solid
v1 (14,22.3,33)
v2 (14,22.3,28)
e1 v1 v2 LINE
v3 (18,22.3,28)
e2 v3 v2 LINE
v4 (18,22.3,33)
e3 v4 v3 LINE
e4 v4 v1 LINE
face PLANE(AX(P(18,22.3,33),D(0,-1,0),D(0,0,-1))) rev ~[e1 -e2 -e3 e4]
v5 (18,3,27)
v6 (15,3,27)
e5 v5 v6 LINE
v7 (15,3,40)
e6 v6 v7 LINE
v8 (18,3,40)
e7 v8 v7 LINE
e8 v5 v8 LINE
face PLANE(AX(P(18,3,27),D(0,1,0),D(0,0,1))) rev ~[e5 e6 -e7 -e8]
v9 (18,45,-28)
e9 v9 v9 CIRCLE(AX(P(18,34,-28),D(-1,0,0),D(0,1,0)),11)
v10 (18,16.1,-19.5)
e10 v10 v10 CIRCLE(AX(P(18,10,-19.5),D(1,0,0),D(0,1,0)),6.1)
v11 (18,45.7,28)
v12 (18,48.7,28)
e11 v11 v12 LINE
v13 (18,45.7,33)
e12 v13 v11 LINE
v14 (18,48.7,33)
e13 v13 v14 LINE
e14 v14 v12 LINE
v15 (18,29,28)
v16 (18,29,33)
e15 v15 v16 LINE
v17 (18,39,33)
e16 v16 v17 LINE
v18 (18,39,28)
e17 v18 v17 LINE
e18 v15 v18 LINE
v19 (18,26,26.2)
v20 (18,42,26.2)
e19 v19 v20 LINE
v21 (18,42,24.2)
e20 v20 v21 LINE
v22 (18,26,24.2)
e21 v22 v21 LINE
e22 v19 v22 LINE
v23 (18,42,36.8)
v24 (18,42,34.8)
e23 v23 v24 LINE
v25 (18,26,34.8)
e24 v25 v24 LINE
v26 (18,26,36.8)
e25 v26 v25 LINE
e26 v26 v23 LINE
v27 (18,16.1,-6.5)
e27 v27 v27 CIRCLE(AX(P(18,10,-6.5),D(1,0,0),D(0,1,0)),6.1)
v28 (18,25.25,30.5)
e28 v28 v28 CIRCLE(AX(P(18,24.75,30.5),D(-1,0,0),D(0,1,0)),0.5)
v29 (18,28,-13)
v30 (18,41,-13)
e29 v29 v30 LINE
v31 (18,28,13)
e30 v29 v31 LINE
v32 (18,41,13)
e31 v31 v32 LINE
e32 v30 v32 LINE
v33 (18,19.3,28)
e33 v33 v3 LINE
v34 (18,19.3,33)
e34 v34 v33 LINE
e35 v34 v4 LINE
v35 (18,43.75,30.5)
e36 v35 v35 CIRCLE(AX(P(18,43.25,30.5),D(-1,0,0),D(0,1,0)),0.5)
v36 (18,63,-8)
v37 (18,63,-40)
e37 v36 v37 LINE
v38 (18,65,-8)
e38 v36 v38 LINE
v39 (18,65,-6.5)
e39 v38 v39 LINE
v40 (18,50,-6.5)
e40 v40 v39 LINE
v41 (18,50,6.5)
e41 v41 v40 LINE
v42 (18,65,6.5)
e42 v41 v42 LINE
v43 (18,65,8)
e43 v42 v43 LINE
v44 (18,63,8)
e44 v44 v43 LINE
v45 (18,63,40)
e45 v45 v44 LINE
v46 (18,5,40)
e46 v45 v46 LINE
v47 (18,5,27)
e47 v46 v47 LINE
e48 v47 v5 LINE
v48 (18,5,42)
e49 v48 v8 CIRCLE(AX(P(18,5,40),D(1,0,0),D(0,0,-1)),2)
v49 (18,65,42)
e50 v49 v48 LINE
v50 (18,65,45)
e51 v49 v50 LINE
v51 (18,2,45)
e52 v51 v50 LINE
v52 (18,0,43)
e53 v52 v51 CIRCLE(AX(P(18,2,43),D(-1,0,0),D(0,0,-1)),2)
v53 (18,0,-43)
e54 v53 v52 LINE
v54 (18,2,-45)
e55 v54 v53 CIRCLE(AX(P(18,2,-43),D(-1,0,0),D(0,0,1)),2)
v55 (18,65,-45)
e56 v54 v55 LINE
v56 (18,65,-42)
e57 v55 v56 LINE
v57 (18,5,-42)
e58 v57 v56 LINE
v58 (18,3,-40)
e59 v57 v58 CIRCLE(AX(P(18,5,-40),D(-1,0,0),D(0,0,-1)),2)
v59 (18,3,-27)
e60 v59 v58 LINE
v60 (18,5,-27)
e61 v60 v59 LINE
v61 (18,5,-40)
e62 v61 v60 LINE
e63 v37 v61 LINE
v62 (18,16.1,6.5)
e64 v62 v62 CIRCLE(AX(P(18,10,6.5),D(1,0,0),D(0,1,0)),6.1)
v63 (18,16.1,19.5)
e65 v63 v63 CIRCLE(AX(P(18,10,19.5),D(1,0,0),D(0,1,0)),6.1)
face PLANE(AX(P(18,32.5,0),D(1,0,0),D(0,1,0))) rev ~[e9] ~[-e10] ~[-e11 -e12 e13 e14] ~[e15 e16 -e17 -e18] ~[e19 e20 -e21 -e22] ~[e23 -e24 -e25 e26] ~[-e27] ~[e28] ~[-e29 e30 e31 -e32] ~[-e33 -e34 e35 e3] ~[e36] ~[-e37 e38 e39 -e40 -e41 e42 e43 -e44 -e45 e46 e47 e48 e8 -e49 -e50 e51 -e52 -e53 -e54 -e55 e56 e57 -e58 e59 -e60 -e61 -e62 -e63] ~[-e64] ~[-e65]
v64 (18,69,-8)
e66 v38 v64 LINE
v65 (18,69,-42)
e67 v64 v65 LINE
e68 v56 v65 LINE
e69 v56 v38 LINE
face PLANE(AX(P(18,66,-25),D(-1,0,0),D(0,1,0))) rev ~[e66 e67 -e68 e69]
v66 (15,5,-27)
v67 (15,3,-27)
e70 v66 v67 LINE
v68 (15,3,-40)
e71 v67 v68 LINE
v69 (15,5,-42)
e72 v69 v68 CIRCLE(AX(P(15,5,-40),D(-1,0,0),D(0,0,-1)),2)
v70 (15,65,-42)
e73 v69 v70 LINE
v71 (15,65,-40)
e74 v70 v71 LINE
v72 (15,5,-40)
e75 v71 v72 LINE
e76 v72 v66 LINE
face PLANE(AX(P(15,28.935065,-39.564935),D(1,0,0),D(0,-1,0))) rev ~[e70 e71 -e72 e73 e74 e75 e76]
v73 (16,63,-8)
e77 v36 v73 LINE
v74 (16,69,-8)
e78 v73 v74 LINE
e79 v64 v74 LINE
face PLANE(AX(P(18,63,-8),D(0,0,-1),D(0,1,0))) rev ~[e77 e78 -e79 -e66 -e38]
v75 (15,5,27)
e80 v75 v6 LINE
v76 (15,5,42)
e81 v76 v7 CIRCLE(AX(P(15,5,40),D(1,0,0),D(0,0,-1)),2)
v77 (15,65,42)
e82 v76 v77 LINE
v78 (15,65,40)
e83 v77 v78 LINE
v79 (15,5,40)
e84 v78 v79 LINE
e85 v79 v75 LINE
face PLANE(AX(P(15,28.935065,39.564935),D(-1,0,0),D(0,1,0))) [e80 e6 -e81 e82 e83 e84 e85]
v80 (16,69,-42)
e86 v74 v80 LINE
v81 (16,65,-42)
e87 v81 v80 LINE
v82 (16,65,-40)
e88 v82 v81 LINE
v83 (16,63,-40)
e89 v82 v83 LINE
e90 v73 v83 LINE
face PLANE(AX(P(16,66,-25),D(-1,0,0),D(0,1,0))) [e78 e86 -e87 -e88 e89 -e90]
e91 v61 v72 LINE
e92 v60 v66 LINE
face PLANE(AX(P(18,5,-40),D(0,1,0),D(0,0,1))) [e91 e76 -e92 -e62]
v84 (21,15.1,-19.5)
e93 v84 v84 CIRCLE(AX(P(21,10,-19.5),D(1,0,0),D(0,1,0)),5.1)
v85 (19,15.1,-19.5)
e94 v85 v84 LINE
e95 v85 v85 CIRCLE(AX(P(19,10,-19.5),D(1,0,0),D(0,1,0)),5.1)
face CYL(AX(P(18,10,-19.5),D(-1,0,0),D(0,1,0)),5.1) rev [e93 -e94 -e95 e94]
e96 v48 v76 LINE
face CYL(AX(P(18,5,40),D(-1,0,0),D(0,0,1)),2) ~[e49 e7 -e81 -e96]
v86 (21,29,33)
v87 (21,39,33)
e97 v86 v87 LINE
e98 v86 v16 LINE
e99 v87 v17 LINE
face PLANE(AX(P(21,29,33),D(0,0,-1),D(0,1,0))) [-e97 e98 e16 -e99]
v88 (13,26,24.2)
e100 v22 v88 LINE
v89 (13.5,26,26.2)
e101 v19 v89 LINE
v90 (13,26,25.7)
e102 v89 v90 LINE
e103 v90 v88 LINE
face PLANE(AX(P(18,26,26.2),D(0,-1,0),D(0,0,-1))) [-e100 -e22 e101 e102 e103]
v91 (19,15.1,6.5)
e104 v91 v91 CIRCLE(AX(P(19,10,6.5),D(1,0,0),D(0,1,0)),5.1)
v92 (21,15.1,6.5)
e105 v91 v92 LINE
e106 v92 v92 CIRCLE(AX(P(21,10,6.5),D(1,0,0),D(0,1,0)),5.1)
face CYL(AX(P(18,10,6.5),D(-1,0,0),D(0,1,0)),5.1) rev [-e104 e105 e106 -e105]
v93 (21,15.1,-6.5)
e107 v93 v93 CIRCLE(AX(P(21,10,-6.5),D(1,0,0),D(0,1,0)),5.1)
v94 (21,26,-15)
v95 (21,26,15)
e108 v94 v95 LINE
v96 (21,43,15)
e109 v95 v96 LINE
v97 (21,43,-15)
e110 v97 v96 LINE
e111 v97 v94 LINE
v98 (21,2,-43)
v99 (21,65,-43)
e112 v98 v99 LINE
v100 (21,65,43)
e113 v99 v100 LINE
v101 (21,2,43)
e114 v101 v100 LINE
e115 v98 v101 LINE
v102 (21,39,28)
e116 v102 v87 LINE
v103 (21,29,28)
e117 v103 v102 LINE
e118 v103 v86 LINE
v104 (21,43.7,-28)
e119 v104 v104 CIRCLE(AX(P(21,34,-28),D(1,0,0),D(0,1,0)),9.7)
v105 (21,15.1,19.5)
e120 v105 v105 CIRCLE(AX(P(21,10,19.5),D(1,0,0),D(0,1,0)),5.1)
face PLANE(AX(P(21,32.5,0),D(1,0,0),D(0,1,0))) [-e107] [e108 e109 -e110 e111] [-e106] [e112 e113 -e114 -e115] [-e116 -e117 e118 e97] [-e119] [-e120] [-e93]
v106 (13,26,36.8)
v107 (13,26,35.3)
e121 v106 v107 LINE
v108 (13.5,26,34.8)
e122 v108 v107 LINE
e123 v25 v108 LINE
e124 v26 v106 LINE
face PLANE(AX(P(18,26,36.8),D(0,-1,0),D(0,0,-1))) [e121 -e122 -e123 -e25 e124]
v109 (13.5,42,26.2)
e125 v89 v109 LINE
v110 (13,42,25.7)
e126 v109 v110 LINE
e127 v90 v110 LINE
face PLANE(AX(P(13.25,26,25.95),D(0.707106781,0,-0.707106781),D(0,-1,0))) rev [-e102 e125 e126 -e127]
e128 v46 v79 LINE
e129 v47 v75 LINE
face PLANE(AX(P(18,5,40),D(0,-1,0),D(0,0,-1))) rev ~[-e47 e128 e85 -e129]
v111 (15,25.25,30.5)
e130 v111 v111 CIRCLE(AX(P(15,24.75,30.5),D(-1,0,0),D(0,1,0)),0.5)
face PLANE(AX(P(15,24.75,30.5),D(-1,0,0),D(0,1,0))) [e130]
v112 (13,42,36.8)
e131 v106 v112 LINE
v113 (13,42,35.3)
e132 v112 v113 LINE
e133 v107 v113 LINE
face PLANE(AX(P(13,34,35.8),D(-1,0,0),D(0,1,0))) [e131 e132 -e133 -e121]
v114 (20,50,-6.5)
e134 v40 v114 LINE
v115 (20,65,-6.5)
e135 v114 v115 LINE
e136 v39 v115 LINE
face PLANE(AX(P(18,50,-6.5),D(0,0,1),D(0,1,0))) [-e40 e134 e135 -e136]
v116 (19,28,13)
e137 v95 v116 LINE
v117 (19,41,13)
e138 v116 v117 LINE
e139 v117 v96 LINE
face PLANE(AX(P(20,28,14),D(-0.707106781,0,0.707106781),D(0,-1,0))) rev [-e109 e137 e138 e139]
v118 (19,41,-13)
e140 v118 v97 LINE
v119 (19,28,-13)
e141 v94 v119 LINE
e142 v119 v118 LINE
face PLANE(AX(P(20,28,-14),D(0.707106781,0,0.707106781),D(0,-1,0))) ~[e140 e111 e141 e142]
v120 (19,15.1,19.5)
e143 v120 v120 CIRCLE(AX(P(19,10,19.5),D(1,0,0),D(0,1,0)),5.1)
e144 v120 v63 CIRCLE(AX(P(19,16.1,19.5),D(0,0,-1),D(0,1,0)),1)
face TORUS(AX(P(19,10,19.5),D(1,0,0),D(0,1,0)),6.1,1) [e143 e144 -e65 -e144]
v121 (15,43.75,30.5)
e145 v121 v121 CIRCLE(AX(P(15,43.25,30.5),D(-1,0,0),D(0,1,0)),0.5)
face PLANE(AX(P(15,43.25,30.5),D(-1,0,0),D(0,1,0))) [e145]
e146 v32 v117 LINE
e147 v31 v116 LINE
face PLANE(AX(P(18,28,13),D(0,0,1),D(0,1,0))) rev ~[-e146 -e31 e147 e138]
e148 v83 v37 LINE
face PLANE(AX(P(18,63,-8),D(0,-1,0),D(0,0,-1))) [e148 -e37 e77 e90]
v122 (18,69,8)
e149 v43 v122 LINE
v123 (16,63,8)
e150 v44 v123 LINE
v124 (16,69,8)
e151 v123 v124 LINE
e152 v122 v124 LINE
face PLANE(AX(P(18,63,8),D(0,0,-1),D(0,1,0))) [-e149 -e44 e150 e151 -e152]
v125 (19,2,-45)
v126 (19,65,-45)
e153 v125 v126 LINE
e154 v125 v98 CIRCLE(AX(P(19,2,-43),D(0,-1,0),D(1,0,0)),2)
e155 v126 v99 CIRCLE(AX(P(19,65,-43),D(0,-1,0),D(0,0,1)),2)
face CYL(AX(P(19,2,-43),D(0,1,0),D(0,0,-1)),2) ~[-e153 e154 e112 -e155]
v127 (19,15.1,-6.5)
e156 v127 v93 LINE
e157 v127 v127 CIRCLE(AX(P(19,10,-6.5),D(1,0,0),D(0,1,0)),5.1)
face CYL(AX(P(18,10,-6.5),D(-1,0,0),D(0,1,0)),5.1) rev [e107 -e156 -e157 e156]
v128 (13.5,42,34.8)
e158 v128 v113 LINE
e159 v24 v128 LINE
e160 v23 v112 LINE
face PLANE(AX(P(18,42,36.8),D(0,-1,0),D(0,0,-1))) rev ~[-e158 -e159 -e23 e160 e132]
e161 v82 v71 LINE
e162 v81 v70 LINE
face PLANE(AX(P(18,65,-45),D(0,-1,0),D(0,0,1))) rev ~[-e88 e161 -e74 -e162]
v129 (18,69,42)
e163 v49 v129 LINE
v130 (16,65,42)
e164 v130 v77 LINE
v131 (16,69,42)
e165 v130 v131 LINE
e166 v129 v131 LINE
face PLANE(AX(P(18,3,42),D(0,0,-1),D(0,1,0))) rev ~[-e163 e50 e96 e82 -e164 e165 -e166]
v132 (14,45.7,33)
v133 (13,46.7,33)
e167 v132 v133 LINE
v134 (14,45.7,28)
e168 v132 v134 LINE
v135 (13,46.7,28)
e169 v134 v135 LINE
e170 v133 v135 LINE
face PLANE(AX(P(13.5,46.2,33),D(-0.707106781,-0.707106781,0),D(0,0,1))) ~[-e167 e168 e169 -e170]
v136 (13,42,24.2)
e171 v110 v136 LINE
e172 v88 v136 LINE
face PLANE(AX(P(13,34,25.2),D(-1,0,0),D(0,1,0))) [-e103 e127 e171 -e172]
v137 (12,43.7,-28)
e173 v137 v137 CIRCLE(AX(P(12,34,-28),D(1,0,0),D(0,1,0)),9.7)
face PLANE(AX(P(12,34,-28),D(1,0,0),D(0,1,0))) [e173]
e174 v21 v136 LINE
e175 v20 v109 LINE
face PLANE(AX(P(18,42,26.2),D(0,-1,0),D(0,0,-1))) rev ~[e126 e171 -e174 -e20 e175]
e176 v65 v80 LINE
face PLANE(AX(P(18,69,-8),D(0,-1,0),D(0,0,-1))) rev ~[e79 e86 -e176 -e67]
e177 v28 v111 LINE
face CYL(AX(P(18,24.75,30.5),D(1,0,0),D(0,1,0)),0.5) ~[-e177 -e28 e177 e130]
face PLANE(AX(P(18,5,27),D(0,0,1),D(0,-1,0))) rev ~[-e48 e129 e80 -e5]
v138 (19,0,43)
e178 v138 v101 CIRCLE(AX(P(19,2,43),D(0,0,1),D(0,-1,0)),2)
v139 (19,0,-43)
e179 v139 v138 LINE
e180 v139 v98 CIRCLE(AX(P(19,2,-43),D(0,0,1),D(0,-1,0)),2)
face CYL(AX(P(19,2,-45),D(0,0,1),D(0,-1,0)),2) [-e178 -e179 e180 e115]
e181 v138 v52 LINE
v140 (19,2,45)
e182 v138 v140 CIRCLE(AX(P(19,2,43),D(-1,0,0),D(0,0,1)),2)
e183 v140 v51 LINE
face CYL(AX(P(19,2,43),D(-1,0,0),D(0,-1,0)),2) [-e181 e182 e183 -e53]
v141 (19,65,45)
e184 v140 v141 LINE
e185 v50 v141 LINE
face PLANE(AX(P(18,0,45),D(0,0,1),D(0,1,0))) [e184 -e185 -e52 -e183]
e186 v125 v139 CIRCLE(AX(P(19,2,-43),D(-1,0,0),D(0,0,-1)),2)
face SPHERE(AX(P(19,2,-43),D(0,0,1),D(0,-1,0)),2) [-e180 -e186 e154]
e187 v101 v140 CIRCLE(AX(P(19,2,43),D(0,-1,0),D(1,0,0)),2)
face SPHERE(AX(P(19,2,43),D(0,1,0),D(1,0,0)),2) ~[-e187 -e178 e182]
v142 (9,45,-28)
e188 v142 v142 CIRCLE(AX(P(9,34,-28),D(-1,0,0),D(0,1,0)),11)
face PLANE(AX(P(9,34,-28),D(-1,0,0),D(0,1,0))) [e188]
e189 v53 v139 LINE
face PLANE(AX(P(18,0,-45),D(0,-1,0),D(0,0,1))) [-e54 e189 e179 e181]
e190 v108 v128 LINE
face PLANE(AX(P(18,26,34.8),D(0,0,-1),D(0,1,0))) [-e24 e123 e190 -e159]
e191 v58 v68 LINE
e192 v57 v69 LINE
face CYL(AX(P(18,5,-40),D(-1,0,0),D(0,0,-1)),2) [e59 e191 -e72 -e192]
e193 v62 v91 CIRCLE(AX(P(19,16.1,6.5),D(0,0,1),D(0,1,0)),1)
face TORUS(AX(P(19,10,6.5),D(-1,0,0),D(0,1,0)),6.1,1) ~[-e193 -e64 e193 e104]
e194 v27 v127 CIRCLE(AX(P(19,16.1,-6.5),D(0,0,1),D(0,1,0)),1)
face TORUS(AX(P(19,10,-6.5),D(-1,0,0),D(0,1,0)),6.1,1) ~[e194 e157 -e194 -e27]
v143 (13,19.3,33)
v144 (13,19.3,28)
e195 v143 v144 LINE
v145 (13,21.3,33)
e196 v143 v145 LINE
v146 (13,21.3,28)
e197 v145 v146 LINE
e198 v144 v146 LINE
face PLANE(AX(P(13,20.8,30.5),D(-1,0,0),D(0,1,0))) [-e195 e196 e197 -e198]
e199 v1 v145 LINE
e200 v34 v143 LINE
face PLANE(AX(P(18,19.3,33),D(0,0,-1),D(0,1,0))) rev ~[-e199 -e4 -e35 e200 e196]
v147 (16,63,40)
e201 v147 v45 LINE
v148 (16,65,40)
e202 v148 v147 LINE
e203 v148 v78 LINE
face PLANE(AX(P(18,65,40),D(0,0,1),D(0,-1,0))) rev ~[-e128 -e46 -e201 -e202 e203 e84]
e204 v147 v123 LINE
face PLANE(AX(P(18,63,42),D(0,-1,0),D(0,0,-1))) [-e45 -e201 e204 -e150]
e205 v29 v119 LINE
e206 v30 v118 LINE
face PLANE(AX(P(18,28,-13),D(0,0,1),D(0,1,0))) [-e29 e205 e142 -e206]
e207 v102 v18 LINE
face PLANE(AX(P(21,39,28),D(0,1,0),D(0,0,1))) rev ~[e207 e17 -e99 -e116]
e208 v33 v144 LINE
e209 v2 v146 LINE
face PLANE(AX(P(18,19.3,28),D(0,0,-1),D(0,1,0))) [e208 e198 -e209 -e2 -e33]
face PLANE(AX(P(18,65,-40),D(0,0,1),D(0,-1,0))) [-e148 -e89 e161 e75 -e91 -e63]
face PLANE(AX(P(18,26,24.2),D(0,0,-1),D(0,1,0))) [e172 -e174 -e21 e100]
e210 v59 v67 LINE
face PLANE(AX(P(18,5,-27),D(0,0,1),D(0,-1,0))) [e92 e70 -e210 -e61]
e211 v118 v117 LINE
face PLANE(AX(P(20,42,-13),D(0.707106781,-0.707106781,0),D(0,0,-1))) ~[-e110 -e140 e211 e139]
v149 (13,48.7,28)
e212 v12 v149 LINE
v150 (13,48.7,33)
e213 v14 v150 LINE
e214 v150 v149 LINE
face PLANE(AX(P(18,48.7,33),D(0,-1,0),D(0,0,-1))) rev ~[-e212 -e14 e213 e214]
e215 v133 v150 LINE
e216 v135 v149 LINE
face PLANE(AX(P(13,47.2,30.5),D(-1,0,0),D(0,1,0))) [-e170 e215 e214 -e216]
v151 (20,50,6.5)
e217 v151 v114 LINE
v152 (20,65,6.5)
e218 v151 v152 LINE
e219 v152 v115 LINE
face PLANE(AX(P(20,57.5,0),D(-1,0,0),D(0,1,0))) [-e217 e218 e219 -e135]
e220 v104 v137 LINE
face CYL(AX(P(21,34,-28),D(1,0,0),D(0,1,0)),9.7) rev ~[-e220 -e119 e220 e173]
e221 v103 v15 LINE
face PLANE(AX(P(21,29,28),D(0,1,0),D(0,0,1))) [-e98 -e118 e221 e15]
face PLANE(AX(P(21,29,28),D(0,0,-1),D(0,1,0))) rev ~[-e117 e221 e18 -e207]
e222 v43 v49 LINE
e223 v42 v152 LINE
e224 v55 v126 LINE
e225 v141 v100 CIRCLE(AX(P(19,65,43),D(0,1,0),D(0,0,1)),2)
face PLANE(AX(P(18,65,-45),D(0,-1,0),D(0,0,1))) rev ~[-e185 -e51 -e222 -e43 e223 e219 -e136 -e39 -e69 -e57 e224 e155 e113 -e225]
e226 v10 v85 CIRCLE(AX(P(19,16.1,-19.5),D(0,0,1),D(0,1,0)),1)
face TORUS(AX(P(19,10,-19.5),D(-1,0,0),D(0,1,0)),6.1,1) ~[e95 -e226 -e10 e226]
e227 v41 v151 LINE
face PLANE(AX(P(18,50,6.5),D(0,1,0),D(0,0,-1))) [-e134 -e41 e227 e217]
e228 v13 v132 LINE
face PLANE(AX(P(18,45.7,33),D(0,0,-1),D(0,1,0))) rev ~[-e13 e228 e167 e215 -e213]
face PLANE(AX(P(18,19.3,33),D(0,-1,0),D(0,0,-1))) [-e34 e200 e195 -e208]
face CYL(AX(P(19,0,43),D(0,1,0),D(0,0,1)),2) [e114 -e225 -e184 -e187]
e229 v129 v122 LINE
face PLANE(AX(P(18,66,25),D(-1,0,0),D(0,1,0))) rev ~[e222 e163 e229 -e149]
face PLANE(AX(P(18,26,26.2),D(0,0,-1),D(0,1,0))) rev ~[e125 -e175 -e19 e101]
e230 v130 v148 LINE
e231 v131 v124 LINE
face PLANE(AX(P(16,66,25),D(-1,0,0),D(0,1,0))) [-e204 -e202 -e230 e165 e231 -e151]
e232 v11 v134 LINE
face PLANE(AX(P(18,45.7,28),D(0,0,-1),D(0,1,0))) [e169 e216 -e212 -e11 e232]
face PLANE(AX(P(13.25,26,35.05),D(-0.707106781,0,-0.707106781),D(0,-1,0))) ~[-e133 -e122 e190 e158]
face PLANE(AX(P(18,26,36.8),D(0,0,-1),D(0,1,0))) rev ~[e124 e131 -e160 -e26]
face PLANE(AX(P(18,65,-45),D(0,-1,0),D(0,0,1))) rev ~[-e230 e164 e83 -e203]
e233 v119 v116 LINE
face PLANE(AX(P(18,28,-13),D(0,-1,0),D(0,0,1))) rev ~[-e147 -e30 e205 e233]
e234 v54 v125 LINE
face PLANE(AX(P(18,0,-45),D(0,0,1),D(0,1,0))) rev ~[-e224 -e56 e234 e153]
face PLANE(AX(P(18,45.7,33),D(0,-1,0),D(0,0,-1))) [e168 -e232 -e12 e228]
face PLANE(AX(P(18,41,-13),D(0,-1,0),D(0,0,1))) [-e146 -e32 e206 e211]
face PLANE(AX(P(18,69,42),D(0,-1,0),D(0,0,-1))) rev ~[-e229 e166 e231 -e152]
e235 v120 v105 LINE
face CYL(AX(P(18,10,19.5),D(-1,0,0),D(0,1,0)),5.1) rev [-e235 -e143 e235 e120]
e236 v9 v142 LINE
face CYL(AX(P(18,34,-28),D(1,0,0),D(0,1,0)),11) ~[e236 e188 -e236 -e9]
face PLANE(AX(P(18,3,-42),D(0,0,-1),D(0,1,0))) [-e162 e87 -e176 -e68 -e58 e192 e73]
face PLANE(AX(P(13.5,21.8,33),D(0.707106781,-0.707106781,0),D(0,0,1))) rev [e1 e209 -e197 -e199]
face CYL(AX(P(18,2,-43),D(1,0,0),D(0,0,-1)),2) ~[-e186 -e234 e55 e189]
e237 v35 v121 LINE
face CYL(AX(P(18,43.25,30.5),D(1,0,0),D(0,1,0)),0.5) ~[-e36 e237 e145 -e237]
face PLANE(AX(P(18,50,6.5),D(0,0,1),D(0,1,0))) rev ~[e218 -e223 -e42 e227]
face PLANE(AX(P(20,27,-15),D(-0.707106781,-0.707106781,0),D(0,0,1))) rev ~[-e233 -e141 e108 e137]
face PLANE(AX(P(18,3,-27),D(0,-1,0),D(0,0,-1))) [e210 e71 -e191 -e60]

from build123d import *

# Parameters (mm, degrees)
SKETCH014_W     = 65
SKETCH014_H     = 90
SKETCH014_R     = 5.1
SKETCH014_W_2   = 13
SKETCH014_H_2   = 26
PAD010_DEPTH    = 3
SKETCH015_W     = 15
SKETCH015_H     = 13
POCKET004_DEPTH = 2
PAD011_DEPTH    = 3
FILLET009_R     = 2
FILLET010_R     = 2
FILLET011_R     = 2
CHAMFER008_SIZE = 2
CHAMFER009_SIZE = 2
CHAMFER010_SIZE = 2
CHAMFER011_SIZE = 2
FILLET012_R     = 1
FILLET013_R     = 1
FILLET014_R     = 1
FILLET015_R     = 1
FILLET016_R     = 2
FILLET017_R     = 2
SKETCH017_R     = 11
PAD012_DEPTH    = 9
SKETCH019_R     = 9.7
POCKET005_DEPTH = 9
SKETCH020_W     = 10
SKETCH020_H     = 5
POCKET006_DEPTH = 3
SKETCH021_R     = 0.5
PAD013_DEPTH    = 3
SKETCH022_W     = 3
SKETCH022_H     = 5
SKETCH022_W_2   = 16
SKETCH022_H_2   = 2
PAD014_DEPTH    = 5
CHAMFER012_SIZE = 1
CHAMFER013_SIZE = 0.5
CHAMFER014_SIZE = 0.5
CHAMFER015_SIZE = 1
SKETCH023_W     = 6
SKETCH023_H     = 34
PAD015_DEPTH    = 2


with BuildPart() as part:
    # Sketch014 → Pad010 (new body)
    with BuildSketch(Plane.YZ):
        with Locations((32.5, 0)):
            Rectangle(SKETCH014_W, SKETCH014_H)
        with Locations((10, 19.5)):
            Circle(SKETCH014_R, mode=Mode.SUBTRACT)
        with Locations((10, 6.5)):
            Circle(SKETCH014_R, mode=Mode.SUBTRACT)
        with Locations((10, -6.5)):
            Circle(SKETCH014_R, mode=Mode.SUBTRACT)
        with Locations((10, -19.5)):
            Circle(SKETCH014_R, mode=Mode.SUBTRACT)
        with Locations((34.5, 0)):
            Rectangle(SKETCH014_W_2, SKETCH014_H_2, mode=Mode.SUBTRACT)
    extrude(amount=PAD010_DEPTH)

    # Sketch015 (on Face13 of Pad010) → Pocket004 (cut)
    with BuildSketch(Plane(origin=(0, 0, 0), x_dir=(0, 1, 0), z_dir=(-1, 0, 0))):
        with Locations((57.5, 0)):
            Rectangle(SKETCH015_W, SKETCH015_H)
    extrude(amount=-POCKET004_DEPTH, mode=Mode.SUBTRACT)

    # Sketch016 (on Face4 of Pocket004) → Pad011 (join)
    with BuildSketch(Plane(origin=(0, 0, 0), x_dir=(0, 1, 0), z_dir=(-1, 0, 0))):
        Polygon((3, 27), (3, 42), (65, 42), (65, 40), (5, 40), (5, 27), align=None)
        Polygon((3, -27), (3, -42), (65, -42), (65, -40), (5, -40), (5, -27), align=None)
    extrude(amount=PAD011_DEPTH)

    # Fillet009
    fillet009_edges = [part.edges().sort_by_distance(p)[0] for p in [
        (3, 32.5, 45),
    ]]
    fillet(fillet009_edges, radius=FILLET009_R)

    # Fillet010
    fillet010_edges = [part.edges().sort_by_distance(p)[0] for p in [
        (3, 0, -1),
    ]]
    fillet(fillet010_edges, radius=FILLET010_R)

    # Fillet011
    fillet011_edges = [part.edges().sort_by_distance(p)[0] for p in [
        (3, 33.5, -45),
    ]]
    fillet(fillet011_edges, radius=FILLET011_R)

    # Chamfer008
    chamfer008_edges = [part.edges().sort_by_distance(p)[0] for p in [
        (3, 41, 0),
    ]]
    chamfer(chamfer008_edges, length=CHAMFER008_SIZE)

    # Chamfer009
    chamfer009_edges = [part.edges().sort_by_distance(p)[0] for p in [
        (3, 34.5, 13),
    ]]
    chamfer(chamfer009_edges, length=CHAMFER009_SIZE)

    # Chamfer010
    chamfer010_edges = [part.edges().sort_by_distance(p)[0] for p in [
        (3, 35.5, -13),
    ]]
    chamfer(chamfer010_edges, length=CHAMFER010_SIZE)

    # Chamfer011
    chamfer011_edges = [part.edges().sort_by_distance(p)[0] for p in [
        (3, 28, 1),
    ]]
    chamfer(chamfer011_edges, length=CHAMFER011_SIZE)

    # Fillet012
    fillet012_edges = [part.edges().sort_by_distance(p)[0] for p in [
        (0, 4.9, 19.5),
    ]]
    fillet(fillet012_edges, radius=FILLET012_R)

    # Fillet013
    fillet013_edges = [part.edges().sort_by_distance(p)[0] for p in [
        (0, 4.9, 6.5),
    ]]
    fillet(fillet013_edges, radius=FILLET013_R)

    # Fillet014
    fillet014_edges = [part.edges().sort_by_distance(p)[0] for p in [
        (0, 4.9, -6.5),
    ]]
    fillet(fillet014_edges, radius=FILLET014_R)

    # Fillet015
    fillet015_edges = [part.edges().sort_by_distance(p)[0] for p in [
        (0, 4.9, -19.5),
    ]]
    fillet(fillet015_edges, radius=FILLET015_R)

    # Fillet016
    fillet016_edges = [part.edges().sort_by_distance(p)[0] for p in [
        (-1.5, 3, 42),
    ]]
    fillet(fillet016_edges, radius=FILLET016_R)

    # Fillet017
    fillet017_edges = [part.edges().sort_by_distance(p)[0] for p in [
        (-1.5, 3, -42),
    ]]
    fillet(fillet017_edges, radius=FILLET017_R)

    # Sketch017 (on Face1 of Fillet017) → Pad012 (join)
    with BuildSketch(Plane(origin=(0, 0, 0), x_dir=(0, 1, 0), z_dir=(-1, 0, 0))):
        with Locations((34, 28)):
            Circle(SKETCH017_R)
    extrude(amount=PAD012_DEPTH)

    # Sketch019 (on Face33 of Pad012) → Pocket005 (cut)
    with BuildSketch(Plane.YZ.offset(3)):
        with Locations((34, -28)):
            Circle(SKETCH019_R)
    extrude(amount=-POCKET005_DEPTH, mode=Mode.SUBTRACT)

    # Sketch020 (on Face33 of Pocket005) → Pocket006 (cut)
    with BuildSketch(Plane.YZ.offset(3)):
        with Locations((34, 30.5)):
            Rectangle(SKETCH020_W, SKETCH020_H)
    extrude(amount=-POCKET006_DEPTH, mode=Mode.SUBTRACT)

    # Sketch021 (on Face1 of Pocket006) → Pad013 (join)
    with BuildSketch(Plane(origin=(0, 0, 0), x_dir=(0, 1, 0), z_dir=(-1, 0, 0))):
        with Locations((43.25, -30.5)):
            Circle(SKETCH021_R)
        with Locations((24.75, -30.5)):
            Circle(SKETCH021_R)
    extrude(amount=PAD013_DEPTH)

    # Sketch022 (on Face1 of Pad013) → Pad014 (join)
    with BuildSketch(Plane(origin=(0, 0, 0), x_dir=(0, 1, 0), z_dir=(-1, 0, 0))):
        with Locations((47.2, -30.5)):
            Rectangle(SKETCH022_W, SKETCH022_H)
        with Locations((20.8, -30.5)):
            Rectangle(SKETCH022_W, SKETCH022_H)
        with Locations((34, -25.2)):
            Rectangle(SKETCH022_W_2, SKETCH022_H_2)
        with Locations((34, -35.8)):
            Rectangle(SKETCH022_W_2, SKETCH022_H_2)
    extrude(amount=PAD014_DEPTH)

    # Chamfer012
    chamfer012_edges = [part.edges().sort_by_distance(p)[0] for p in [
        (-5, 45.7, 30.5),
    ]]
    chamfer(chamfer012_edges, length=CHAMFER012_SIZE)

    # Chamfer013
    chamfer013_edges = [part.edges().sort_by_distance(p)[0] for p in [
        (-5, 34, 26.2),
    ]]
    chamfer(chamfer013_edges, length=CHAMFER013_SIZE)

    # Chamfer014
    chamfer014_edges = [part.edges().sort_by_distance(p)[0] for p in [
        (-5, 34, 34.8),
    ]]
    chamfer(chamfer014_edges, length=CHAMFER014_SIZE)

    # Chamfer015
    chamfer015_edges = [part.edges().sort_by_distance(p)[0] for p in [
        (-5, 22.3, 30.5),
    ]]
    chamfer(chamfer015_edges, length=CHAMFER015_SIZE)

    # Sketch023 (on Face4 of Chamfer015) → Pad015 (join)
    with BuildSketch(Plane(origin=(0, 0, 0), x_dir=(0, 1, 0), z_dir=(-1, 0, 0))):
        with Locations((66, 25)):
            Rectangle(SKETCH023_W, SKETCH023_H)
        with Locations((66, -25)):
            Rectangle(SKETCH023_W, SKETCH023_H)
    extrude(amount=PAD015_DEPTH)


with BuildPart() as part_1:
    # Body002 placement: moved
    add(part.part.moved(Location((18, 0, 0))))


solid = part_1.part
